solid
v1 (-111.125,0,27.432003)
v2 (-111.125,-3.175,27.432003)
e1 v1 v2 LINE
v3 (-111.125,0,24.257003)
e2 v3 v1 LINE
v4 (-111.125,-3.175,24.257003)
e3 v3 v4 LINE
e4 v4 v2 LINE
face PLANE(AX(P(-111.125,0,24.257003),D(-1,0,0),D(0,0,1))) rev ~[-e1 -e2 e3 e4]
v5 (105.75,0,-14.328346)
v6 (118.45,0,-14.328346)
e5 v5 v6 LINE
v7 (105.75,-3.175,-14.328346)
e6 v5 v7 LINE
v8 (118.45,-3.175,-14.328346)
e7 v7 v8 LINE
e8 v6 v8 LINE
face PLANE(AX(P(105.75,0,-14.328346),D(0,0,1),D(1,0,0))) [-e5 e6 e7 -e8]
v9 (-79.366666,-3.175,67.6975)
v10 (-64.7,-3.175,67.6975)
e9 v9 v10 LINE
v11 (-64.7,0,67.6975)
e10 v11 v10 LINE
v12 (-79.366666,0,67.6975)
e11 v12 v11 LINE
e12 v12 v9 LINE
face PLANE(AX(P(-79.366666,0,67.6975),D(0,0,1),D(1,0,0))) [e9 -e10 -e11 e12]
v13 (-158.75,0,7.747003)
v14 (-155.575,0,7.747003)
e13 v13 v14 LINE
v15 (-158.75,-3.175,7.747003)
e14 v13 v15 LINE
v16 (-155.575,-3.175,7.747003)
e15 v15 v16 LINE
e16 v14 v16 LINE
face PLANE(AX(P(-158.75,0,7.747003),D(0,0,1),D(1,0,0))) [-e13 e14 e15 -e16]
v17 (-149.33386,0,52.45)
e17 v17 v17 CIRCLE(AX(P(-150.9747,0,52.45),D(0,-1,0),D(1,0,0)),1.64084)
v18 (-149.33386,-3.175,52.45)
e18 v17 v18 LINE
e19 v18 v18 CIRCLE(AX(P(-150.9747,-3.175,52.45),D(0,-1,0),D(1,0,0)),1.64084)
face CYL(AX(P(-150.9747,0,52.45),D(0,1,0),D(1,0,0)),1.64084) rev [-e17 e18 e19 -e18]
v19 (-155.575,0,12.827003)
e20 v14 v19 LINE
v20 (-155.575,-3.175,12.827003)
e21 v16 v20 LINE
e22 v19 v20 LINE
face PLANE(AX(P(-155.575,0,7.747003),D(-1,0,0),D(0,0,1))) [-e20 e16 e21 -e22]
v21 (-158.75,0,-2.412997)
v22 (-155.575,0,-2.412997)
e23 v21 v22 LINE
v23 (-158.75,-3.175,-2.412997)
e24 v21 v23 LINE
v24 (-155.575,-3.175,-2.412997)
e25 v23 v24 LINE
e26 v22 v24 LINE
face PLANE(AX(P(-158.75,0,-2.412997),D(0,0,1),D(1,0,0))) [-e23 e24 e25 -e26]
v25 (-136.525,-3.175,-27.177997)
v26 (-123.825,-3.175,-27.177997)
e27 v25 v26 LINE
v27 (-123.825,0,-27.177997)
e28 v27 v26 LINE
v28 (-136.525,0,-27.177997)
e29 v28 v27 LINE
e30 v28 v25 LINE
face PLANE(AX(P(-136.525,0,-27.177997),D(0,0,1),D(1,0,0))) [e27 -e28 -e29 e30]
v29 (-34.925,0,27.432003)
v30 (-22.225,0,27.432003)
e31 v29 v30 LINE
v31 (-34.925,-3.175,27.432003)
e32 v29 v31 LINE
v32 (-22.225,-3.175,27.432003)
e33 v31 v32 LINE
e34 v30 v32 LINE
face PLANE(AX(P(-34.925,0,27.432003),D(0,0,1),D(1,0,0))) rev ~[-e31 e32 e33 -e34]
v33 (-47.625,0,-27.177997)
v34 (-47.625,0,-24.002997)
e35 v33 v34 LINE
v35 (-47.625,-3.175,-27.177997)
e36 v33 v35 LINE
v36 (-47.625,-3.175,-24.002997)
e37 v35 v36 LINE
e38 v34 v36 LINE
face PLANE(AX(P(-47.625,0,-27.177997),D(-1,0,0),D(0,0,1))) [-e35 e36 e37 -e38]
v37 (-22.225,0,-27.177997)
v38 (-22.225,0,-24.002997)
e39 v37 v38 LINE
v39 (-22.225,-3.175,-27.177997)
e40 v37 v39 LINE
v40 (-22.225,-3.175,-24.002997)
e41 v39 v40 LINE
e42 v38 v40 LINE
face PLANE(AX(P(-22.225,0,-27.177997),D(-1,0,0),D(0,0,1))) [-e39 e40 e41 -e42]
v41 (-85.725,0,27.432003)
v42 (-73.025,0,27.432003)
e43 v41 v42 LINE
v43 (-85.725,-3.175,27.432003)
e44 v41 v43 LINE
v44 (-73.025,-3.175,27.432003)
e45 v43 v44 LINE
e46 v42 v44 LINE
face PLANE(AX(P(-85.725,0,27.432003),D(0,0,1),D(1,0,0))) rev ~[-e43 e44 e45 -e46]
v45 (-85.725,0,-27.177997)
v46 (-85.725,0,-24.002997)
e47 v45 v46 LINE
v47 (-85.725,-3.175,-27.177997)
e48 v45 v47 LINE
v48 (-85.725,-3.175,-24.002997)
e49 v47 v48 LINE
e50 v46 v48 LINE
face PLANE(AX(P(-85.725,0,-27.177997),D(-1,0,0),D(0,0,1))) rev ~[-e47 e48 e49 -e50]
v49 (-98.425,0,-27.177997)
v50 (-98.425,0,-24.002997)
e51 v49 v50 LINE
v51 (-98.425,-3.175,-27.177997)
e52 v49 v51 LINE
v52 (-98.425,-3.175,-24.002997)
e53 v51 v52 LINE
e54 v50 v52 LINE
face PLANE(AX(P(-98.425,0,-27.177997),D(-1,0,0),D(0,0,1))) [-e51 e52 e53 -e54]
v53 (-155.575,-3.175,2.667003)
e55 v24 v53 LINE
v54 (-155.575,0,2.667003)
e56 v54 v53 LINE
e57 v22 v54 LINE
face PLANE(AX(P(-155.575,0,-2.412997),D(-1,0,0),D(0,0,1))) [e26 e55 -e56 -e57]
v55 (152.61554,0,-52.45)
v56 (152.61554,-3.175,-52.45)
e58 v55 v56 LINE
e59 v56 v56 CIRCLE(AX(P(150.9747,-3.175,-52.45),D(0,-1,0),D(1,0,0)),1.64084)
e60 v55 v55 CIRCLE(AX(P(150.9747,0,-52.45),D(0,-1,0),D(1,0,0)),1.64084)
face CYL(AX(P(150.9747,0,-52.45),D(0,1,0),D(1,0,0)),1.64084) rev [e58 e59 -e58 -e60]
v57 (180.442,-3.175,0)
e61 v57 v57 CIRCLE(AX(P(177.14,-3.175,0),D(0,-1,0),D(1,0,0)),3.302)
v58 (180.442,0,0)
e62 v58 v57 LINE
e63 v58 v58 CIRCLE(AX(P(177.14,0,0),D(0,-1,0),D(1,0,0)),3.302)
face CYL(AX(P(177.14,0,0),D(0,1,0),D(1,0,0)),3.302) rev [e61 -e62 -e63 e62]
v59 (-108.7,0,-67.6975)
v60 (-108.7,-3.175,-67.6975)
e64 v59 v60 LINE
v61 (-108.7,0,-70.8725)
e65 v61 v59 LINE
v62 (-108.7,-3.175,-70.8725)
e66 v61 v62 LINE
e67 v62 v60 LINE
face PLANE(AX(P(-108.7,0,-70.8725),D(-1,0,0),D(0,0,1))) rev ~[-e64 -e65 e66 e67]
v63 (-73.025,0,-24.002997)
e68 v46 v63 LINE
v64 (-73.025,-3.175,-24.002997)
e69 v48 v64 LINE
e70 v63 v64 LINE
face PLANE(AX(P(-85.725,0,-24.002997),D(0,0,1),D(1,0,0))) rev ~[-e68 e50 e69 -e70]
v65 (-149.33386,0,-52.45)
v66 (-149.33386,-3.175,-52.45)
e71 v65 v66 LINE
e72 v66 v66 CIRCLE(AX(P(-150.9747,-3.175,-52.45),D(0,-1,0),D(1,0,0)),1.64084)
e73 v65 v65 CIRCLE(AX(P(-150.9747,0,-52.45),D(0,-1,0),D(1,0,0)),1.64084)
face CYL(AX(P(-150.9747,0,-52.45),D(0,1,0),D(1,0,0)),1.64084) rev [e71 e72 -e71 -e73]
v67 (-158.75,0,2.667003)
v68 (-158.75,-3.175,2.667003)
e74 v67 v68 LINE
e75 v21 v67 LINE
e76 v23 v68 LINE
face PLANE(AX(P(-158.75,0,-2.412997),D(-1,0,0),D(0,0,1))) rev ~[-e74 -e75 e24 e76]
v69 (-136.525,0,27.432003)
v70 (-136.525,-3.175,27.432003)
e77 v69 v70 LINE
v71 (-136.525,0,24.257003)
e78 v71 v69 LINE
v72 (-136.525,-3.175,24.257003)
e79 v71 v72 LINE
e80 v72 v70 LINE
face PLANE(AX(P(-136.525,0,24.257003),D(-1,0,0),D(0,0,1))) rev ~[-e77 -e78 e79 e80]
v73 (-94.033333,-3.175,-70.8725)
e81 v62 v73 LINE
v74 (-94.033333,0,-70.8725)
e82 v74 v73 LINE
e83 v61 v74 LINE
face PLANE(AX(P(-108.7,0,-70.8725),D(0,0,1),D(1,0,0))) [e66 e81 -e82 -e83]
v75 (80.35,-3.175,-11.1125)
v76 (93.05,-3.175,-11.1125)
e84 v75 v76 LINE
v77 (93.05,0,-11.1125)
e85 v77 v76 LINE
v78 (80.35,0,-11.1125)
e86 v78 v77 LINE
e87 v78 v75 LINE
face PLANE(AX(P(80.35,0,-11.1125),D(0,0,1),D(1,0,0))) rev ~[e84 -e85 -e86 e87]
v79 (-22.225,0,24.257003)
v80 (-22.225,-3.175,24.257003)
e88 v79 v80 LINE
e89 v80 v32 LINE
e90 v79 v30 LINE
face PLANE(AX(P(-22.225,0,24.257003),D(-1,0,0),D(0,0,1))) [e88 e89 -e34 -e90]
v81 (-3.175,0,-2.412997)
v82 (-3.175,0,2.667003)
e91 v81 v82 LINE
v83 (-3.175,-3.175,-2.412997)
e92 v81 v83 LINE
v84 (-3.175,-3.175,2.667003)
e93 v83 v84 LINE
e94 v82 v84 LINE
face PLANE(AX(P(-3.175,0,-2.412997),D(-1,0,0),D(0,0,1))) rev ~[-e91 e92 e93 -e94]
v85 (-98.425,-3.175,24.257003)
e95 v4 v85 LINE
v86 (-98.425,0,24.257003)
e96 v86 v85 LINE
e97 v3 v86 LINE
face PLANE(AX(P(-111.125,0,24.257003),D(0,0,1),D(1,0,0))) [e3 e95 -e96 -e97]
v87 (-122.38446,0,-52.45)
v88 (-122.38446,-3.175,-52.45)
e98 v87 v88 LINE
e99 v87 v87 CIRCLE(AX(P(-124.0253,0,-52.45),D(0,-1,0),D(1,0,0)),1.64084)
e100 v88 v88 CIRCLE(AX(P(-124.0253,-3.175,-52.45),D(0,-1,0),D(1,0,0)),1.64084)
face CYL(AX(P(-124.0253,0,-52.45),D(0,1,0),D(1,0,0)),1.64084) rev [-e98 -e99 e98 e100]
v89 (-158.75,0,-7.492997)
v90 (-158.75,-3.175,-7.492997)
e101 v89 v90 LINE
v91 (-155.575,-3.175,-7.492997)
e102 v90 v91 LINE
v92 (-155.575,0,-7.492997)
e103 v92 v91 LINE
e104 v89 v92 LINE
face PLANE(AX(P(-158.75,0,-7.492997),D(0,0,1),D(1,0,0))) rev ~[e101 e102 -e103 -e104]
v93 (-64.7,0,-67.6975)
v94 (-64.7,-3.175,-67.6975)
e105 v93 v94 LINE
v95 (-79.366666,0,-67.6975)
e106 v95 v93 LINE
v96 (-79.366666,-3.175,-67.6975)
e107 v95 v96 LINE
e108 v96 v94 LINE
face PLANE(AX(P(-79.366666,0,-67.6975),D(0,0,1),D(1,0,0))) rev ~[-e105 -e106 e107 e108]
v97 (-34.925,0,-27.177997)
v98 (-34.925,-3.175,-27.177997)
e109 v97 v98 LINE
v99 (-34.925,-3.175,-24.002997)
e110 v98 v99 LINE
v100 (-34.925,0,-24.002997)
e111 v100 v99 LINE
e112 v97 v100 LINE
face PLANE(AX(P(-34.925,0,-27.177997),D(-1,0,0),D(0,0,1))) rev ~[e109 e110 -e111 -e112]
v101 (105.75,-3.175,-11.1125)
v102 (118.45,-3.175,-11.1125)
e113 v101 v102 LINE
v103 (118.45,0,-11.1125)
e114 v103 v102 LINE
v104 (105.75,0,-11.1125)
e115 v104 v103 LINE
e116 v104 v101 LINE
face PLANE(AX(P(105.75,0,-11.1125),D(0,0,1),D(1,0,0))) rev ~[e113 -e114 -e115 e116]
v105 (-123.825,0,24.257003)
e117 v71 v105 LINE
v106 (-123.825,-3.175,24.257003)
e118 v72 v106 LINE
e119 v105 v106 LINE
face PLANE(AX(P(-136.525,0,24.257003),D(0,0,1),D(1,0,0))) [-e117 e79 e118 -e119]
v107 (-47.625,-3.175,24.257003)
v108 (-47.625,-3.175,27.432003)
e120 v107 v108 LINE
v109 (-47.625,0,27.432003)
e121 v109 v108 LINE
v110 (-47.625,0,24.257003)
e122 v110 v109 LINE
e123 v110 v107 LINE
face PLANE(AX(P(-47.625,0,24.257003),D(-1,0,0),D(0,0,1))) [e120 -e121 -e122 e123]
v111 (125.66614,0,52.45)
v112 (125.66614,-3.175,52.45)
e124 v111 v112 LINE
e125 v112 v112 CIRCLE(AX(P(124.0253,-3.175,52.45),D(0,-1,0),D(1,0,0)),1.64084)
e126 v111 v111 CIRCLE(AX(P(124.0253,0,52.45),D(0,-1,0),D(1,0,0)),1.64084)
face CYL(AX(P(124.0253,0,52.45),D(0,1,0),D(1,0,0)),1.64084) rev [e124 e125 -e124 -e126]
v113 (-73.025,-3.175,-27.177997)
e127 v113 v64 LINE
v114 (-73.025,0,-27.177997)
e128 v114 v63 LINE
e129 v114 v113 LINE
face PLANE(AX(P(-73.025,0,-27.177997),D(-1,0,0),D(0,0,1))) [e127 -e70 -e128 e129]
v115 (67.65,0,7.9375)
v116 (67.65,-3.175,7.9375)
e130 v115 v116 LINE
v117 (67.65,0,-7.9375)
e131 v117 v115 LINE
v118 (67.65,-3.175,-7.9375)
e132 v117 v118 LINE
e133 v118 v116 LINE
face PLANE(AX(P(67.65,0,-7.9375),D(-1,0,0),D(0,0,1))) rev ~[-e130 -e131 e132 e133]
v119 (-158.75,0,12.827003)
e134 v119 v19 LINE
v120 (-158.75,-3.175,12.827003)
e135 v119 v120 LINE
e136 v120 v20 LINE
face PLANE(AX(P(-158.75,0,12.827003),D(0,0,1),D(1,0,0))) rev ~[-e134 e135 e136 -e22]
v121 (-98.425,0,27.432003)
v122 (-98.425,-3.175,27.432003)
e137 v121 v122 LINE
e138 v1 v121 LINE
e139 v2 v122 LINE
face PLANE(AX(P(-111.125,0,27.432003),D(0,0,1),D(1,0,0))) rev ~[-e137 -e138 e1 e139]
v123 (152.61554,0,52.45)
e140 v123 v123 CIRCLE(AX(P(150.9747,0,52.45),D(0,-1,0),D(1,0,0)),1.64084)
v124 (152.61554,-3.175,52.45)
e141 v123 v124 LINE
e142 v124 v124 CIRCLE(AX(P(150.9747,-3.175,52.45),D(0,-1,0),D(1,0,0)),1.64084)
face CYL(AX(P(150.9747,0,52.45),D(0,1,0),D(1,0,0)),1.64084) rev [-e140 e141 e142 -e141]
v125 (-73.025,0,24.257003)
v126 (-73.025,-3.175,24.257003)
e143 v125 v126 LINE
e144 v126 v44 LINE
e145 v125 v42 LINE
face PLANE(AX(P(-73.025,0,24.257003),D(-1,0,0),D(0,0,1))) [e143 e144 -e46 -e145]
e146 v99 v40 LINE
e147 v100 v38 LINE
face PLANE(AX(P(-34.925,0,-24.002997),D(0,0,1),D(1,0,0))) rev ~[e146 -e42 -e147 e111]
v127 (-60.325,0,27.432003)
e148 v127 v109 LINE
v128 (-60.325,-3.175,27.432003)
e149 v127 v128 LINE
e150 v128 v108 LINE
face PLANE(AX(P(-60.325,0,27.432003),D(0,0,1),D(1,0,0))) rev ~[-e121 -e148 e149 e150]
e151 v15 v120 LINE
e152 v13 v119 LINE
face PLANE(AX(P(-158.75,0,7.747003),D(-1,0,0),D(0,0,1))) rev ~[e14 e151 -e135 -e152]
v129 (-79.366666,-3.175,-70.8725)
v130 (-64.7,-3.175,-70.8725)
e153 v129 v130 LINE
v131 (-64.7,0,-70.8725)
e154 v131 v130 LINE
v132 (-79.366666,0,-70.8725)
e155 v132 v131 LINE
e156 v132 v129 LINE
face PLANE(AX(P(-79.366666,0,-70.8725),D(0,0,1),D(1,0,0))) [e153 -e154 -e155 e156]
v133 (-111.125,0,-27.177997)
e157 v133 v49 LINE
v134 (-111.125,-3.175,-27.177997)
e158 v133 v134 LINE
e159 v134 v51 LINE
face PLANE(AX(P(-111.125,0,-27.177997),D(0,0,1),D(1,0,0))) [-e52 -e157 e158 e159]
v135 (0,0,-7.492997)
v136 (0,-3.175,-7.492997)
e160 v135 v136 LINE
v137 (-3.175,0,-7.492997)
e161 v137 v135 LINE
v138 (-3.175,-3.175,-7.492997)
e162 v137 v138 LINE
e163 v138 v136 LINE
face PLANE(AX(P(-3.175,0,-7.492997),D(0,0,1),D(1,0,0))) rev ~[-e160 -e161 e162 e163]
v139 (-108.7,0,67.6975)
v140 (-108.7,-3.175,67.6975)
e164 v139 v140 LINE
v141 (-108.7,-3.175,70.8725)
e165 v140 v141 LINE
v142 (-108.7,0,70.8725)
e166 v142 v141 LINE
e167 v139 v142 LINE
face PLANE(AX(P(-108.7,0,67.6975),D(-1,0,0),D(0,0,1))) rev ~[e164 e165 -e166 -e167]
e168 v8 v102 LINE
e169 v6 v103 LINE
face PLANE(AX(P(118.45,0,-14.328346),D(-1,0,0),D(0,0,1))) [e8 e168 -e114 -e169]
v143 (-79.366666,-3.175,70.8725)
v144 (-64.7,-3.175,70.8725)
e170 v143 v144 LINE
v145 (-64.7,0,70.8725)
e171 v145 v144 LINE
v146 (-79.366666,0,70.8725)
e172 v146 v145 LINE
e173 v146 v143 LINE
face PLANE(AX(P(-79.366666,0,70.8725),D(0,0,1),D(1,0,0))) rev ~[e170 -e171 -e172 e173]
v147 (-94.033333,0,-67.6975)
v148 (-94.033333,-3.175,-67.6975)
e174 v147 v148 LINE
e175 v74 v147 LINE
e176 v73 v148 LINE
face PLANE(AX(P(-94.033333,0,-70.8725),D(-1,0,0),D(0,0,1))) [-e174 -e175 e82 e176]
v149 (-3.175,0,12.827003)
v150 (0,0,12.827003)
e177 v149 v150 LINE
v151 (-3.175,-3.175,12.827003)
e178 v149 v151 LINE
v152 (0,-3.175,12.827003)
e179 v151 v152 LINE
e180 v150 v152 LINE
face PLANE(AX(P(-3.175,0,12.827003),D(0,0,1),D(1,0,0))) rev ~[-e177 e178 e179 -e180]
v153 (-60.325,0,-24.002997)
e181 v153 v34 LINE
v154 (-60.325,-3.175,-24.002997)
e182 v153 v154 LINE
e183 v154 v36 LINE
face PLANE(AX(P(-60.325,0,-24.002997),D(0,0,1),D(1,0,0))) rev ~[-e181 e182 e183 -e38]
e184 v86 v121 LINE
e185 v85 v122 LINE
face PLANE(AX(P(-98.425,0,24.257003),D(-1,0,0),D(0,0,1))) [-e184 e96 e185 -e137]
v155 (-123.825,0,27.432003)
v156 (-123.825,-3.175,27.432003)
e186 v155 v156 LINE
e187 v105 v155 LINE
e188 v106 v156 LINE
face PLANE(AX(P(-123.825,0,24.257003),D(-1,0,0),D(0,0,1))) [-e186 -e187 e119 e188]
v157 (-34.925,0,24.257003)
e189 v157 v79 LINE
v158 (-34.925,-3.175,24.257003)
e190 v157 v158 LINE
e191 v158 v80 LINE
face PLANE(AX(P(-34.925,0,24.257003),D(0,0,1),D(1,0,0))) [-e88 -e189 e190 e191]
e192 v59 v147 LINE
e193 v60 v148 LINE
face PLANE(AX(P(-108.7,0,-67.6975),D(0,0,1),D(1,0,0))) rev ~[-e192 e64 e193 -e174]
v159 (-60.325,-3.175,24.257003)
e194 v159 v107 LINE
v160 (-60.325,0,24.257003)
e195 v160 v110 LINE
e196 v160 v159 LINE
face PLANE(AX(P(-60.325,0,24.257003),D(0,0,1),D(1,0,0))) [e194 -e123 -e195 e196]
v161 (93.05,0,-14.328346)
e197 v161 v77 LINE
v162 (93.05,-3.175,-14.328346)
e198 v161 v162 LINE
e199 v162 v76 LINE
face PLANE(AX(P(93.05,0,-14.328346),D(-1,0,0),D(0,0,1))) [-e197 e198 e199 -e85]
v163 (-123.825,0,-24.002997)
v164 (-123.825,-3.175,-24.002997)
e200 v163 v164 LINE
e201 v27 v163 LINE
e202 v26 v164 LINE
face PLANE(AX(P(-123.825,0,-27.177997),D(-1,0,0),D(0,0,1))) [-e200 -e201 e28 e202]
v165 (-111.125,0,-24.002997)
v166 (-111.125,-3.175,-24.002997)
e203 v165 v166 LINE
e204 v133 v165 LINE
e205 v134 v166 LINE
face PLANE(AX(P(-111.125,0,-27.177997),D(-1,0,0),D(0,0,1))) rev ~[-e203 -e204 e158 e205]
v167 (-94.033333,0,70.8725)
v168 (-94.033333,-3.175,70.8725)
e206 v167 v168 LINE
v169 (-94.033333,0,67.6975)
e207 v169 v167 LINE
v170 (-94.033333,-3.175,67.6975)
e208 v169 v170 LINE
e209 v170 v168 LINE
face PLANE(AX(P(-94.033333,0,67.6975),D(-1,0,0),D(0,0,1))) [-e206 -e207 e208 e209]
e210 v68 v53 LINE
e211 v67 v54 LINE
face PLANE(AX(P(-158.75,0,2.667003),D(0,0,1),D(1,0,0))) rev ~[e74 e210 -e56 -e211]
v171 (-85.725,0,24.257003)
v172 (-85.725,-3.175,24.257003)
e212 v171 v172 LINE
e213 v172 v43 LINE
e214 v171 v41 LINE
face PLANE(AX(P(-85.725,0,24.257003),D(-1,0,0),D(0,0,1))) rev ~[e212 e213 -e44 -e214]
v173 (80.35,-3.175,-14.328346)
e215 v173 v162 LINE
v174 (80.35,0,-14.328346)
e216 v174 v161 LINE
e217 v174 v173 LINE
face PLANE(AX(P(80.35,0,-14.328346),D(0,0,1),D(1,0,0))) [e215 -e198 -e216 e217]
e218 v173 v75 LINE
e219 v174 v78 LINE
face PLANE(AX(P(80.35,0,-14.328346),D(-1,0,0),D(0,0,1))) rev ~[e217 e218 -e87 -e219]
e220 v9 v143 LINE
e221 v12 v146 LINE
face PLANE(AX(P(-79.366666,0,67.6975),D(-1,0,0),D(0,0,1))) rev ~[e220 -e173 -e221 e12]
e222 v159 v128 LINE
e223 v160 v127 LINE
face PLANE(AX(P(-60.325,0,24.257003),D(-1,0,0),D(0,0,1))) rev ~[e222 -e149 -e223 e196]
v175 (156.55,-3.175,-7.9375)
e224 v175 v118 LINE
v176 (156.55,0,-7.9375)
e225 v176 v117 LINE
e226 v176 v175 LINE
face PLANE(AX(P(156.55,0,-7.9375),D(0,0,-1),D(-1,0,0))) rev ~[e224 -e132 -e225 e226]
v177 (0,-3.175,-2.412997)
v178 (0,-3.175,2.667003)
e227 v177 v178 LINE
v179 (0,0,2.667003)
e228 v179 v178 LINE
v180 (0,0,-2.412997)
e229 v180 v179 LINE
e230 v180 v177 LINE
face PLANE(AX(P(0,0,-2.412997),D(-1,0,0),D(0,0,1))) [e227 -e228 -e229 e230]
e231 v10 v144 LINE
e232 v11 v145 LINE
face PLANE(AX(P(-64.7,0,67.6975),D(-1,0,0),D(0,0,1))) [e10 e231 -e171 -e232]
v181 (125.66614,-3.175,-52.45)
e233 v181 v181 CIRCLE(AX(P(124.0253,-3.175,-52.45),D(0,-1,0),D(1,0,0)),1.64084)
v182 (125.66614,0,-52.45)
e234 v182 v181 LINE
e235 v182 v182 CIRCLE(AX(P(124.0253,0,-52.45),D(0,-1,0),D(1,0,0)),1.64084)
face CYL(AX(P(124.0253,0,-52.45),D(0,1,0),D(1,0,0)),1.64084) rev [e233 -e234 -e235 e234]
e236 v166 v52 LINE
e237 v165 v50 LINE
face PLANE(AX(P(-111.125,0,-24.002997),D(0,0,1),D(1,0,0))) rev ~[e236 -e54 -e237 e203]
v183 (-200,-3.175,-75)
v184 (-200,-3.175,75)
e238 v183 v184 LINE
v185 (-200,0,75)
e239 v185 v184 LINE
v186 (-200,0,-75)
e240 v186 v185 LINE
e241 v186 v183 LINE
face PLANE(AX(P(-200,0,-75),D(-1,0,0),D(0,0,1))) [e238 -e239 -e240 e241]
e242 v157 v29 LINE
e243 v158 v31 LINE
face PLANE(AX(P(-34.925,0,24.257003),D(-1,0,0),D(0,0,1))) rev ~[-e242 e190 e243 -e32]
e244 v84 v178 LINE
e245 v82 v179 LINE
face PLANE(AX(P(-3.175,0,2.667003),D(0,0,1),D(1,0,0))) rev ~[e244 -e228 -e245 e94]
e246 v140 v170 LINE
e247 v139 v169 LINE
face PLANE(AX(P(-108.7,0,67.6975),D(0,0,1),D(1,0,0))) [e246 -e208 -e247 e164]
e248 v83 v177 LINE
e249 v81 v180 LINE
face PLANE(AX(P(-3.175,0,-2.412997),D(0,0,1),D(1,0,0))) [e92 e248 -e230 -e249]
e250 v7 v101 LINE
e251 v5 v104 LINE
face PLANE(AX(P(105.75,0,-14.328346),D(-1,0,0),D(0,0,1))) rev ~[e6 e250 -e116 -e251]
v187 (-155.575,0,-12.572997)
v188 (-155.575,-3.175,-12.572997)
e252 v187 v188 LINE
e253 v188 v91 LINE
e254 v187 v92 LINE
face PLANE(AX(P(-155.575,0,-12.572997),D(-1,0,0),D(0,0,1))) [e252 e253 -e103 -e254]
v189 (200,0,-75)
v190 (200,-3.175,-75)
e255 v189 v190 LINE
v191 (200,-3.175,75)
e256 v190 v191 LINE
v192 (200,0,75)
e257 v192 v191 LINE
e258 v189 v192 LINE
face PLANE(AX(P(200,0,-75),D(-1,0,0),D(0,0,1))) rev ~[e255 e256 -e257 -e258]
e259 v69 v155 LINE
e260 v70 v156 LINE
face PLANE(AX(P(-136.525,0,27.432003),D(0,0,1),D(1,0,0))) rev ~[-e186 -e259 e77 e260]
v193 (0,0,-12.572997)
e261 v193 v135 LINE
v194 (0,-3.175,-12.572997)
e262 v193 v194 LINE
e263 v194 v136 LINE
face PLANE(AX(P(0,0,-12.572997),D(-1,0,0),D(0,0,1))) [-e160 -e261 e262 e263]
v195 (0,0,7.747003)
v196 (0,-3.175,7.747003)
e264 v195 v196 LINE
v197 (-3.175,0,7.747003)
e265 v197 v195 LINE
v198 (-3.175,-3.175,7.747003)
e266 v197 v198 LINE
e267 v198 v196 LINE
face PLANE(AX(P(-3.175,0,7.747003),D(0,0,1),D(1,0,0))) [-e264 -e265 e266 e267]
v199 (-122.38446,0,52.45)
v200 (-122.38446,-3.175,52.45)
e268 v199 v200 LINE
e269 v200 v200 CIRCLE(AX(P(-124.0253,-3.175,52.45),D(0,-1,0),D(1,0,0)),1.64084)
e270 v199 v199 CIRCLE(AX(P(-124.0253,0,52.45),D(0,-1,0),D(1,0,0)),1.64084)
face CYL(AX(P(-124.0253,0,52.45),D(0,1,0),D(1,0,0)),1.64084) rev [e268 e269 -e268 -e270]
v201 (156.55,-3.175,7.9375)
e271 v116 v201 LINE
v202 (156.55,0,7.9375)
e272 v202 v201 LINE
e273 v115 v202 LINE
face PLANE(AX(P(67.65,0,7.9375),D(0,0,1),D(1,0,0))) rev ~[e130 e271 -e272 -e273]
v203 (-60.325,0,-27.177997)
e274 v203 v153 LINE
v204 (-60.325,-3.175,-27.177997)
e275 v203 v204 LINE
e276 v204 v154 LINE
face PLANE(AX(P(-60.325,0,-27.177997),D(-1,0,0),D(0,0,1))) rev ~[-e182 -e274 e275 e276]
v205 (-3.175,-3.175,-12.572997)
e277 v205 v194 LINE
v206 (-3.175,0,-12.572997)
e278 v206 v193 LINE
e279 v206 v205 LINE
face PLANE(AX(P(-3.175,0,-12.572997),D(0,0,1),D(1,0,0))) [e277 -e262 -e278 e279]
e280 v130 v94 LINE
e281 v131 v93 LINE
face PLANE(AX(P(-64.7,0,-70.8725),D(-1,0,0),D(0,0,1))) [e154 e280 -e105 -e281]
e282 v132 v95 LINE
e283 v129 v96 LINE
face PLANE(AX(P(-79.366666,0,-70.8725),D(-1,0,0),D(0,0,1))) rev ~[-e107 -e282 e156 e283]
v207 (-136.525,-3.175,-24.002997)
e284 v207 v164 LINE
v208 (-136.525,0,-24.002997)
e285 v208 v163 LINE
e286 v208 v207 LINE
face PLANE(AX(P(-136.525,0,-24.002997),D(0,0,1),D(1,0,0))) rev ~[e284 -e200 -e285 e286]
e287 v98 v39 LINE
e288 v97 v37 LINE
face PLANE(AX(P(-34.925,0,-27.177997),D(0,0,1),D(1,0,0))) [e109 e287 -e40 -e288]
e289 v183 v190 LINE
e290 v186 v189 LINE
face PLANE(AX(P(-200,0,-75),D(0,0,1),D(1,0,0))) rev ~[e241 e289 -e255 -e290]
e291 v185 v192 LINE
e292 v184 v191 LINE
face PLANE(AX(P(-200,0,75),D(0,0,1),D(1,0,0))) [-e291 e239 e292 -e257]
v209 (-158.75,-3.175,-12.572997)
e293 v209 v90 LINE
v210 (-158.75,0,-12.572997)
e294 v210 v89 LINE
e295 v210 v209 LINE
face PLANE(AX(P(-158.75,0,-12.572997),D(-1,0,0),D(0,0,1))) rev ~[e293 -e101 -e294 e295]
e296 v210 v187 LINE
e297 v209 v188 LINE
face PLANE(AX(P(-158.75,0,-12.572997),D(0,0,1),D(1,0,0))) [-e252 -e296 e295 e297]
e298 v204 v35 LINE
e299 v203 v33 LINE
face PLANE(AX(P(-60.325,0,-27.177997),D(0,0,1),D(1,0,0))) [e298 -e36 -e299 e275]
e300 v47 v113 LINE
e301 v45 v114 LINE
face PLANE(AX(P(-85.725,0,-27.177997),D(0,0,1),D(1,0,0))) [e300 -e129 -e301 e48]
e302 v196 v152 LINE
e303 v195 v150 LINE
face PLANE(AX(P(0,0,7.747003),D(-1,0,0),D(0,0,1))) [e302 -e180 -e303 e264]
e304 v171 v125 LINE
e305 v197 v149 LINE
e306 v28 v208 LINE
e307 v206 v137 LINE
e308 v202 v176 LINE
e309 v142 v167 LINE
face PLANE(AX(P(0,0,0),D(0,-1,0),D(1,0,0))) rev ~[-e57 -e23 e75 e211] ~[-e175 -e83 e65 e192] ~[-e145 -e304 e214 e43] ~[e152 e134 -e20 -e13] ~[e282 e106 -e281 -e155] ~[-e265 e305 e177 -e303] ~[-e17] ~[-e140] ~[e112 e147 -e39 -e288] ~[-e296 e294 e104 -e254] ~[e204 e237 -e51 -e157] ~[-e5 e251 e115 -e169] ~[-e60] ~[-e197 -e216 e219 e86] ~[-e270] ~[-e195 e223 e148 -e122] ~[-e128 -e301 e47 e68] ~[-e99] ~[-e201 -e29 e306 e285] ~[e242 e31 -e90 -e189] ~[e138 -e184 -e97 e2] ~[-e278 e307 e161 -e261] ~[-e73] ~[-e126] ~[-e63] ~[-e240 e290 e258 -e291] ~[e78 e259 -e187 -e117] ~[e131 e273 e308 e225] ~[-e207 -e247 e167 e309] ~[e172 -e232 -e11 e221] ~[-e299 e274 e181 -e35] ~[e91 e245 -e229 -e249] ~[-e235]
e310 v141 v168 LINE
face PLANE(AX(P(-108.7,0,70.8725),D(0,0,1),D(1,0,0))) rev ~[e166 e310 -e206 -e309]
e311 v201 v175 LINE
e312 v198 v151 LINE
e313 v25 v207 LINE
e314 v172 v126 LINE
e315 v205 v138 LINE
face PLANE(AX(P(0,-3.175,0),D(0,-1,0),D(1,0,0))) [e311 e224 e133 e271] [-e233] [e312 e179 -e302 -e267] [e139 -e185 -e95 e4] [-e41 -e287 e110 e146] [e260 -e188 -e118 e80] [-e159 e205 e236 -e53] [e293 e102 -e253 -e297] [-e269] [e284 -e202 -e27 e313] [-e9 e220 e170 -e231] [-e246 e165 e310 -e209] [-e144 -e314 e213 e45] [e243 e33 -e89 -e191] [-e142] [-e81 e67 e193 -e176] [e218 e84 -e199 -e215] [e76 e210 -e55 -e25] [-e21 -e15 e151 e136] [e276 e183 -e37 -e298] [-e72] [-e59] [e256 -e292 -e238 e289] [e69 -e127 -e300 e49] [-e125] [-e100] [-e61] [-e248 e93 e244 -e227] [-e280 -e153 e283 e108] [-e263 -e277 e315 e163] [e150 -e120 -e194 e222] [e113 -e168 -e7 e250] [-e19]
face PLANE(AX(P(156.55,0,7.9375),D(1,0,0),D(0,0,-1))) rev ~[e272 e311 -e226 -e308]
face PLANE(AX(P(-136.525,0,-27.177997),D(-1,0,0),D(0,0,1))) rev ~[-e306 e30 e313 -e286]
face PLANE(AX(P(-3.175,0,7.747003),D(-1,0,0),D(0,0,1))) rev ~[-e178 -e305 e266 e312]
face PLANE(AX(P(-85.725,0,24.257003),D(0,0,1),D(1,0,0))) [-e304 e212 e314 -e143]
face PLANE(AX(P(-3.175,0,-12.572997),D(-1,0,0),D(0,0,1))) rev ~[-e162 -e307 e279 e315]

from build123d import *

# Parameters (mm, degrees)
F0_W     = 400
F0_H     = 150
F0_W_2   = 14.666667
F0_H_2   = 3.175
F0_R     = 1.64084
F0_W_3   = 12.7
F0_W_4   = 3.175
F0_H_3   = 5.08
F0_H_4   = 3.215846
F0_R_2   = 3.302
F1_DEPTH = 3.175


with BuildPart() as f1:
    # F0 (on Front) → F1 (new body)
    with BuildSketch(Plane.XZ):
        Rectangle(F0_W, F0_H)
        with Locations((-101.366666, -69.285)):
            Rectangle(F0_W_2, F0_H_2, mode=Mode.SUBTRACT)
        with Locations((-150.9747, -52.45)):
            Circle(F0_R, mode=Mode.SUBTRACT)
        with Locations((-124.0253, -52.45)):
            Circle(F0_R, mode=Mode.SUBTRACT)
        with Locations((-72.033333, -69.285)):
            Rectangle(F0_W_2, F0_H_2, mode=Mode.SUBTRACT)
        with Locations((-130.175, -25.590497)):
            Rectangle(F0_W_3, F0_H_2, mode=Mode.SUBTRACT)
        with Locations((-104.775, -25.590497)):
            Rectangle(F0_W_3, F0_H_2, mode=Mode.SUBTRACT)
        with Locations((-157.1625, -10.032997)):
            Rectangle(F0_W_4, F0_H_3, mode=Mode.SUBTRACT)
        with Locations((-79.375, -25.590497)):
            Rectangle(F0_W_3, F0_H_2, mode=Mode.SUBTRACT)
        with Locations((-53.975, -25.590497)):
            Rectangle(F0_W_3, F0_H_2, mode=Mode.SUBTRACT)
        with Locations((-28.575, -25.590497)):
            Rectangle(F0_W_3, F0_H_2, mode=Mode.SUBTRACT)
        with Locations((-1.5875, -10.032997)):
            Rectangle(F0_W_4, F0_H_3, mode=Mode.SUBTRACT)
        with Locations((124.0253, -52.45)):
            Circle(F0_R, mode=Mode.SUBTRACT)
        with Locations((150.9747, -52.45)):
            Circle(F0_R, mode=Mode.SUBTRACT)
        with Locations((86.7, -12.720423)):
            Rectangle(F0_W_3, F0_H_4, mode=Mode.SUBTRACT)
        with Locations((112.1, -12.720423)):
            Rectangle(F0_W_3, F0_H_4, mode=Mode.SUBTRACT)
        with Locations((-157.1625, 0.127003)):
            Rectangle(F0_W_4, F0_H_3, mode=Mode.SUBTRACT)
        with Locations((-157.1625, 10.287003)):
            Rectangle(F0_W_4, F0_H_3, mode=Mode.SUBTRACT)
        with Locations((-130.175, 25.844503)):
            Rectangle(F0_W_3, F0_H_2, mode=Mode.SUBTRACT)
        with Locations((-104.775, 25.844503)):
            Rectangle(F0_W_3, F0_H_2, mode=Mode.SUBTRACT)
        with Locations((-1.5875, 0.127003)):
            Rectangle(F0_W_4, F0_H_3, mode=Mode.SUBTRACT)
        with Locations((-1.5875, 10.287003)):
            Rectangle(F0_W_4, F0_H_3, mode=Mode.SUBTRACT)
        with Locations((-79.375, 25.844503)):
            Rectangle(F0_W_3, F0_H_2, mode=Mode.SUBTRACT)
        with Locations((-53.975, 25.844503)):
            Rectangle(F0_W_3, F0_H_2, mode=Mode.SUBTRACT)
        with Locations((-28.575, 25.844503)):
            Rectangle(F0_W_3, F0_H_2, mode=Mode.SUBTRACT)
        with Locations((-150.9747, 52.45)):
            Circle(F0_R, mode=Mode.SUBTRACT)
        with Locations((-124.0253, 52.45)):
            Circle(F0_R, mode=Mode.SUBTRACT)
        with Locations((-101.366666, 69.285)):
            Rectangle(F0_W_2, F0_H_2, mode=Mode.SUBTRACT)
        with Locations((-72.033333, 69.285)):
            Rectangle(F0_W_2, F0_H_2, mode=Mode.SUBTRACT)
        Polygon((156.55, 7.9375), (156.55, -7.9375), (118.45, -7.9375), (80.35, -7.9375), (67.65, -7.9375), (67.65, 7.9375), (80.35, 7.9375), (118.45, 7.9375), align=None, mode=Mode.SUBTRACT)
        with Locations((177.14, 0)):
            Circle(F0_R_2, mode=Mode.SUBTRACT)
        with Locations((124.0253, 52.45)):
            Circle(F0_R, mode=Mode.SUBTRACT)
        with Locations((150.9747, 52.45)):
            Circle(F0_R, mode=Mode.SUBTRACT)
    extrude(amount=F1_DEPTH)


solid = f1.part
